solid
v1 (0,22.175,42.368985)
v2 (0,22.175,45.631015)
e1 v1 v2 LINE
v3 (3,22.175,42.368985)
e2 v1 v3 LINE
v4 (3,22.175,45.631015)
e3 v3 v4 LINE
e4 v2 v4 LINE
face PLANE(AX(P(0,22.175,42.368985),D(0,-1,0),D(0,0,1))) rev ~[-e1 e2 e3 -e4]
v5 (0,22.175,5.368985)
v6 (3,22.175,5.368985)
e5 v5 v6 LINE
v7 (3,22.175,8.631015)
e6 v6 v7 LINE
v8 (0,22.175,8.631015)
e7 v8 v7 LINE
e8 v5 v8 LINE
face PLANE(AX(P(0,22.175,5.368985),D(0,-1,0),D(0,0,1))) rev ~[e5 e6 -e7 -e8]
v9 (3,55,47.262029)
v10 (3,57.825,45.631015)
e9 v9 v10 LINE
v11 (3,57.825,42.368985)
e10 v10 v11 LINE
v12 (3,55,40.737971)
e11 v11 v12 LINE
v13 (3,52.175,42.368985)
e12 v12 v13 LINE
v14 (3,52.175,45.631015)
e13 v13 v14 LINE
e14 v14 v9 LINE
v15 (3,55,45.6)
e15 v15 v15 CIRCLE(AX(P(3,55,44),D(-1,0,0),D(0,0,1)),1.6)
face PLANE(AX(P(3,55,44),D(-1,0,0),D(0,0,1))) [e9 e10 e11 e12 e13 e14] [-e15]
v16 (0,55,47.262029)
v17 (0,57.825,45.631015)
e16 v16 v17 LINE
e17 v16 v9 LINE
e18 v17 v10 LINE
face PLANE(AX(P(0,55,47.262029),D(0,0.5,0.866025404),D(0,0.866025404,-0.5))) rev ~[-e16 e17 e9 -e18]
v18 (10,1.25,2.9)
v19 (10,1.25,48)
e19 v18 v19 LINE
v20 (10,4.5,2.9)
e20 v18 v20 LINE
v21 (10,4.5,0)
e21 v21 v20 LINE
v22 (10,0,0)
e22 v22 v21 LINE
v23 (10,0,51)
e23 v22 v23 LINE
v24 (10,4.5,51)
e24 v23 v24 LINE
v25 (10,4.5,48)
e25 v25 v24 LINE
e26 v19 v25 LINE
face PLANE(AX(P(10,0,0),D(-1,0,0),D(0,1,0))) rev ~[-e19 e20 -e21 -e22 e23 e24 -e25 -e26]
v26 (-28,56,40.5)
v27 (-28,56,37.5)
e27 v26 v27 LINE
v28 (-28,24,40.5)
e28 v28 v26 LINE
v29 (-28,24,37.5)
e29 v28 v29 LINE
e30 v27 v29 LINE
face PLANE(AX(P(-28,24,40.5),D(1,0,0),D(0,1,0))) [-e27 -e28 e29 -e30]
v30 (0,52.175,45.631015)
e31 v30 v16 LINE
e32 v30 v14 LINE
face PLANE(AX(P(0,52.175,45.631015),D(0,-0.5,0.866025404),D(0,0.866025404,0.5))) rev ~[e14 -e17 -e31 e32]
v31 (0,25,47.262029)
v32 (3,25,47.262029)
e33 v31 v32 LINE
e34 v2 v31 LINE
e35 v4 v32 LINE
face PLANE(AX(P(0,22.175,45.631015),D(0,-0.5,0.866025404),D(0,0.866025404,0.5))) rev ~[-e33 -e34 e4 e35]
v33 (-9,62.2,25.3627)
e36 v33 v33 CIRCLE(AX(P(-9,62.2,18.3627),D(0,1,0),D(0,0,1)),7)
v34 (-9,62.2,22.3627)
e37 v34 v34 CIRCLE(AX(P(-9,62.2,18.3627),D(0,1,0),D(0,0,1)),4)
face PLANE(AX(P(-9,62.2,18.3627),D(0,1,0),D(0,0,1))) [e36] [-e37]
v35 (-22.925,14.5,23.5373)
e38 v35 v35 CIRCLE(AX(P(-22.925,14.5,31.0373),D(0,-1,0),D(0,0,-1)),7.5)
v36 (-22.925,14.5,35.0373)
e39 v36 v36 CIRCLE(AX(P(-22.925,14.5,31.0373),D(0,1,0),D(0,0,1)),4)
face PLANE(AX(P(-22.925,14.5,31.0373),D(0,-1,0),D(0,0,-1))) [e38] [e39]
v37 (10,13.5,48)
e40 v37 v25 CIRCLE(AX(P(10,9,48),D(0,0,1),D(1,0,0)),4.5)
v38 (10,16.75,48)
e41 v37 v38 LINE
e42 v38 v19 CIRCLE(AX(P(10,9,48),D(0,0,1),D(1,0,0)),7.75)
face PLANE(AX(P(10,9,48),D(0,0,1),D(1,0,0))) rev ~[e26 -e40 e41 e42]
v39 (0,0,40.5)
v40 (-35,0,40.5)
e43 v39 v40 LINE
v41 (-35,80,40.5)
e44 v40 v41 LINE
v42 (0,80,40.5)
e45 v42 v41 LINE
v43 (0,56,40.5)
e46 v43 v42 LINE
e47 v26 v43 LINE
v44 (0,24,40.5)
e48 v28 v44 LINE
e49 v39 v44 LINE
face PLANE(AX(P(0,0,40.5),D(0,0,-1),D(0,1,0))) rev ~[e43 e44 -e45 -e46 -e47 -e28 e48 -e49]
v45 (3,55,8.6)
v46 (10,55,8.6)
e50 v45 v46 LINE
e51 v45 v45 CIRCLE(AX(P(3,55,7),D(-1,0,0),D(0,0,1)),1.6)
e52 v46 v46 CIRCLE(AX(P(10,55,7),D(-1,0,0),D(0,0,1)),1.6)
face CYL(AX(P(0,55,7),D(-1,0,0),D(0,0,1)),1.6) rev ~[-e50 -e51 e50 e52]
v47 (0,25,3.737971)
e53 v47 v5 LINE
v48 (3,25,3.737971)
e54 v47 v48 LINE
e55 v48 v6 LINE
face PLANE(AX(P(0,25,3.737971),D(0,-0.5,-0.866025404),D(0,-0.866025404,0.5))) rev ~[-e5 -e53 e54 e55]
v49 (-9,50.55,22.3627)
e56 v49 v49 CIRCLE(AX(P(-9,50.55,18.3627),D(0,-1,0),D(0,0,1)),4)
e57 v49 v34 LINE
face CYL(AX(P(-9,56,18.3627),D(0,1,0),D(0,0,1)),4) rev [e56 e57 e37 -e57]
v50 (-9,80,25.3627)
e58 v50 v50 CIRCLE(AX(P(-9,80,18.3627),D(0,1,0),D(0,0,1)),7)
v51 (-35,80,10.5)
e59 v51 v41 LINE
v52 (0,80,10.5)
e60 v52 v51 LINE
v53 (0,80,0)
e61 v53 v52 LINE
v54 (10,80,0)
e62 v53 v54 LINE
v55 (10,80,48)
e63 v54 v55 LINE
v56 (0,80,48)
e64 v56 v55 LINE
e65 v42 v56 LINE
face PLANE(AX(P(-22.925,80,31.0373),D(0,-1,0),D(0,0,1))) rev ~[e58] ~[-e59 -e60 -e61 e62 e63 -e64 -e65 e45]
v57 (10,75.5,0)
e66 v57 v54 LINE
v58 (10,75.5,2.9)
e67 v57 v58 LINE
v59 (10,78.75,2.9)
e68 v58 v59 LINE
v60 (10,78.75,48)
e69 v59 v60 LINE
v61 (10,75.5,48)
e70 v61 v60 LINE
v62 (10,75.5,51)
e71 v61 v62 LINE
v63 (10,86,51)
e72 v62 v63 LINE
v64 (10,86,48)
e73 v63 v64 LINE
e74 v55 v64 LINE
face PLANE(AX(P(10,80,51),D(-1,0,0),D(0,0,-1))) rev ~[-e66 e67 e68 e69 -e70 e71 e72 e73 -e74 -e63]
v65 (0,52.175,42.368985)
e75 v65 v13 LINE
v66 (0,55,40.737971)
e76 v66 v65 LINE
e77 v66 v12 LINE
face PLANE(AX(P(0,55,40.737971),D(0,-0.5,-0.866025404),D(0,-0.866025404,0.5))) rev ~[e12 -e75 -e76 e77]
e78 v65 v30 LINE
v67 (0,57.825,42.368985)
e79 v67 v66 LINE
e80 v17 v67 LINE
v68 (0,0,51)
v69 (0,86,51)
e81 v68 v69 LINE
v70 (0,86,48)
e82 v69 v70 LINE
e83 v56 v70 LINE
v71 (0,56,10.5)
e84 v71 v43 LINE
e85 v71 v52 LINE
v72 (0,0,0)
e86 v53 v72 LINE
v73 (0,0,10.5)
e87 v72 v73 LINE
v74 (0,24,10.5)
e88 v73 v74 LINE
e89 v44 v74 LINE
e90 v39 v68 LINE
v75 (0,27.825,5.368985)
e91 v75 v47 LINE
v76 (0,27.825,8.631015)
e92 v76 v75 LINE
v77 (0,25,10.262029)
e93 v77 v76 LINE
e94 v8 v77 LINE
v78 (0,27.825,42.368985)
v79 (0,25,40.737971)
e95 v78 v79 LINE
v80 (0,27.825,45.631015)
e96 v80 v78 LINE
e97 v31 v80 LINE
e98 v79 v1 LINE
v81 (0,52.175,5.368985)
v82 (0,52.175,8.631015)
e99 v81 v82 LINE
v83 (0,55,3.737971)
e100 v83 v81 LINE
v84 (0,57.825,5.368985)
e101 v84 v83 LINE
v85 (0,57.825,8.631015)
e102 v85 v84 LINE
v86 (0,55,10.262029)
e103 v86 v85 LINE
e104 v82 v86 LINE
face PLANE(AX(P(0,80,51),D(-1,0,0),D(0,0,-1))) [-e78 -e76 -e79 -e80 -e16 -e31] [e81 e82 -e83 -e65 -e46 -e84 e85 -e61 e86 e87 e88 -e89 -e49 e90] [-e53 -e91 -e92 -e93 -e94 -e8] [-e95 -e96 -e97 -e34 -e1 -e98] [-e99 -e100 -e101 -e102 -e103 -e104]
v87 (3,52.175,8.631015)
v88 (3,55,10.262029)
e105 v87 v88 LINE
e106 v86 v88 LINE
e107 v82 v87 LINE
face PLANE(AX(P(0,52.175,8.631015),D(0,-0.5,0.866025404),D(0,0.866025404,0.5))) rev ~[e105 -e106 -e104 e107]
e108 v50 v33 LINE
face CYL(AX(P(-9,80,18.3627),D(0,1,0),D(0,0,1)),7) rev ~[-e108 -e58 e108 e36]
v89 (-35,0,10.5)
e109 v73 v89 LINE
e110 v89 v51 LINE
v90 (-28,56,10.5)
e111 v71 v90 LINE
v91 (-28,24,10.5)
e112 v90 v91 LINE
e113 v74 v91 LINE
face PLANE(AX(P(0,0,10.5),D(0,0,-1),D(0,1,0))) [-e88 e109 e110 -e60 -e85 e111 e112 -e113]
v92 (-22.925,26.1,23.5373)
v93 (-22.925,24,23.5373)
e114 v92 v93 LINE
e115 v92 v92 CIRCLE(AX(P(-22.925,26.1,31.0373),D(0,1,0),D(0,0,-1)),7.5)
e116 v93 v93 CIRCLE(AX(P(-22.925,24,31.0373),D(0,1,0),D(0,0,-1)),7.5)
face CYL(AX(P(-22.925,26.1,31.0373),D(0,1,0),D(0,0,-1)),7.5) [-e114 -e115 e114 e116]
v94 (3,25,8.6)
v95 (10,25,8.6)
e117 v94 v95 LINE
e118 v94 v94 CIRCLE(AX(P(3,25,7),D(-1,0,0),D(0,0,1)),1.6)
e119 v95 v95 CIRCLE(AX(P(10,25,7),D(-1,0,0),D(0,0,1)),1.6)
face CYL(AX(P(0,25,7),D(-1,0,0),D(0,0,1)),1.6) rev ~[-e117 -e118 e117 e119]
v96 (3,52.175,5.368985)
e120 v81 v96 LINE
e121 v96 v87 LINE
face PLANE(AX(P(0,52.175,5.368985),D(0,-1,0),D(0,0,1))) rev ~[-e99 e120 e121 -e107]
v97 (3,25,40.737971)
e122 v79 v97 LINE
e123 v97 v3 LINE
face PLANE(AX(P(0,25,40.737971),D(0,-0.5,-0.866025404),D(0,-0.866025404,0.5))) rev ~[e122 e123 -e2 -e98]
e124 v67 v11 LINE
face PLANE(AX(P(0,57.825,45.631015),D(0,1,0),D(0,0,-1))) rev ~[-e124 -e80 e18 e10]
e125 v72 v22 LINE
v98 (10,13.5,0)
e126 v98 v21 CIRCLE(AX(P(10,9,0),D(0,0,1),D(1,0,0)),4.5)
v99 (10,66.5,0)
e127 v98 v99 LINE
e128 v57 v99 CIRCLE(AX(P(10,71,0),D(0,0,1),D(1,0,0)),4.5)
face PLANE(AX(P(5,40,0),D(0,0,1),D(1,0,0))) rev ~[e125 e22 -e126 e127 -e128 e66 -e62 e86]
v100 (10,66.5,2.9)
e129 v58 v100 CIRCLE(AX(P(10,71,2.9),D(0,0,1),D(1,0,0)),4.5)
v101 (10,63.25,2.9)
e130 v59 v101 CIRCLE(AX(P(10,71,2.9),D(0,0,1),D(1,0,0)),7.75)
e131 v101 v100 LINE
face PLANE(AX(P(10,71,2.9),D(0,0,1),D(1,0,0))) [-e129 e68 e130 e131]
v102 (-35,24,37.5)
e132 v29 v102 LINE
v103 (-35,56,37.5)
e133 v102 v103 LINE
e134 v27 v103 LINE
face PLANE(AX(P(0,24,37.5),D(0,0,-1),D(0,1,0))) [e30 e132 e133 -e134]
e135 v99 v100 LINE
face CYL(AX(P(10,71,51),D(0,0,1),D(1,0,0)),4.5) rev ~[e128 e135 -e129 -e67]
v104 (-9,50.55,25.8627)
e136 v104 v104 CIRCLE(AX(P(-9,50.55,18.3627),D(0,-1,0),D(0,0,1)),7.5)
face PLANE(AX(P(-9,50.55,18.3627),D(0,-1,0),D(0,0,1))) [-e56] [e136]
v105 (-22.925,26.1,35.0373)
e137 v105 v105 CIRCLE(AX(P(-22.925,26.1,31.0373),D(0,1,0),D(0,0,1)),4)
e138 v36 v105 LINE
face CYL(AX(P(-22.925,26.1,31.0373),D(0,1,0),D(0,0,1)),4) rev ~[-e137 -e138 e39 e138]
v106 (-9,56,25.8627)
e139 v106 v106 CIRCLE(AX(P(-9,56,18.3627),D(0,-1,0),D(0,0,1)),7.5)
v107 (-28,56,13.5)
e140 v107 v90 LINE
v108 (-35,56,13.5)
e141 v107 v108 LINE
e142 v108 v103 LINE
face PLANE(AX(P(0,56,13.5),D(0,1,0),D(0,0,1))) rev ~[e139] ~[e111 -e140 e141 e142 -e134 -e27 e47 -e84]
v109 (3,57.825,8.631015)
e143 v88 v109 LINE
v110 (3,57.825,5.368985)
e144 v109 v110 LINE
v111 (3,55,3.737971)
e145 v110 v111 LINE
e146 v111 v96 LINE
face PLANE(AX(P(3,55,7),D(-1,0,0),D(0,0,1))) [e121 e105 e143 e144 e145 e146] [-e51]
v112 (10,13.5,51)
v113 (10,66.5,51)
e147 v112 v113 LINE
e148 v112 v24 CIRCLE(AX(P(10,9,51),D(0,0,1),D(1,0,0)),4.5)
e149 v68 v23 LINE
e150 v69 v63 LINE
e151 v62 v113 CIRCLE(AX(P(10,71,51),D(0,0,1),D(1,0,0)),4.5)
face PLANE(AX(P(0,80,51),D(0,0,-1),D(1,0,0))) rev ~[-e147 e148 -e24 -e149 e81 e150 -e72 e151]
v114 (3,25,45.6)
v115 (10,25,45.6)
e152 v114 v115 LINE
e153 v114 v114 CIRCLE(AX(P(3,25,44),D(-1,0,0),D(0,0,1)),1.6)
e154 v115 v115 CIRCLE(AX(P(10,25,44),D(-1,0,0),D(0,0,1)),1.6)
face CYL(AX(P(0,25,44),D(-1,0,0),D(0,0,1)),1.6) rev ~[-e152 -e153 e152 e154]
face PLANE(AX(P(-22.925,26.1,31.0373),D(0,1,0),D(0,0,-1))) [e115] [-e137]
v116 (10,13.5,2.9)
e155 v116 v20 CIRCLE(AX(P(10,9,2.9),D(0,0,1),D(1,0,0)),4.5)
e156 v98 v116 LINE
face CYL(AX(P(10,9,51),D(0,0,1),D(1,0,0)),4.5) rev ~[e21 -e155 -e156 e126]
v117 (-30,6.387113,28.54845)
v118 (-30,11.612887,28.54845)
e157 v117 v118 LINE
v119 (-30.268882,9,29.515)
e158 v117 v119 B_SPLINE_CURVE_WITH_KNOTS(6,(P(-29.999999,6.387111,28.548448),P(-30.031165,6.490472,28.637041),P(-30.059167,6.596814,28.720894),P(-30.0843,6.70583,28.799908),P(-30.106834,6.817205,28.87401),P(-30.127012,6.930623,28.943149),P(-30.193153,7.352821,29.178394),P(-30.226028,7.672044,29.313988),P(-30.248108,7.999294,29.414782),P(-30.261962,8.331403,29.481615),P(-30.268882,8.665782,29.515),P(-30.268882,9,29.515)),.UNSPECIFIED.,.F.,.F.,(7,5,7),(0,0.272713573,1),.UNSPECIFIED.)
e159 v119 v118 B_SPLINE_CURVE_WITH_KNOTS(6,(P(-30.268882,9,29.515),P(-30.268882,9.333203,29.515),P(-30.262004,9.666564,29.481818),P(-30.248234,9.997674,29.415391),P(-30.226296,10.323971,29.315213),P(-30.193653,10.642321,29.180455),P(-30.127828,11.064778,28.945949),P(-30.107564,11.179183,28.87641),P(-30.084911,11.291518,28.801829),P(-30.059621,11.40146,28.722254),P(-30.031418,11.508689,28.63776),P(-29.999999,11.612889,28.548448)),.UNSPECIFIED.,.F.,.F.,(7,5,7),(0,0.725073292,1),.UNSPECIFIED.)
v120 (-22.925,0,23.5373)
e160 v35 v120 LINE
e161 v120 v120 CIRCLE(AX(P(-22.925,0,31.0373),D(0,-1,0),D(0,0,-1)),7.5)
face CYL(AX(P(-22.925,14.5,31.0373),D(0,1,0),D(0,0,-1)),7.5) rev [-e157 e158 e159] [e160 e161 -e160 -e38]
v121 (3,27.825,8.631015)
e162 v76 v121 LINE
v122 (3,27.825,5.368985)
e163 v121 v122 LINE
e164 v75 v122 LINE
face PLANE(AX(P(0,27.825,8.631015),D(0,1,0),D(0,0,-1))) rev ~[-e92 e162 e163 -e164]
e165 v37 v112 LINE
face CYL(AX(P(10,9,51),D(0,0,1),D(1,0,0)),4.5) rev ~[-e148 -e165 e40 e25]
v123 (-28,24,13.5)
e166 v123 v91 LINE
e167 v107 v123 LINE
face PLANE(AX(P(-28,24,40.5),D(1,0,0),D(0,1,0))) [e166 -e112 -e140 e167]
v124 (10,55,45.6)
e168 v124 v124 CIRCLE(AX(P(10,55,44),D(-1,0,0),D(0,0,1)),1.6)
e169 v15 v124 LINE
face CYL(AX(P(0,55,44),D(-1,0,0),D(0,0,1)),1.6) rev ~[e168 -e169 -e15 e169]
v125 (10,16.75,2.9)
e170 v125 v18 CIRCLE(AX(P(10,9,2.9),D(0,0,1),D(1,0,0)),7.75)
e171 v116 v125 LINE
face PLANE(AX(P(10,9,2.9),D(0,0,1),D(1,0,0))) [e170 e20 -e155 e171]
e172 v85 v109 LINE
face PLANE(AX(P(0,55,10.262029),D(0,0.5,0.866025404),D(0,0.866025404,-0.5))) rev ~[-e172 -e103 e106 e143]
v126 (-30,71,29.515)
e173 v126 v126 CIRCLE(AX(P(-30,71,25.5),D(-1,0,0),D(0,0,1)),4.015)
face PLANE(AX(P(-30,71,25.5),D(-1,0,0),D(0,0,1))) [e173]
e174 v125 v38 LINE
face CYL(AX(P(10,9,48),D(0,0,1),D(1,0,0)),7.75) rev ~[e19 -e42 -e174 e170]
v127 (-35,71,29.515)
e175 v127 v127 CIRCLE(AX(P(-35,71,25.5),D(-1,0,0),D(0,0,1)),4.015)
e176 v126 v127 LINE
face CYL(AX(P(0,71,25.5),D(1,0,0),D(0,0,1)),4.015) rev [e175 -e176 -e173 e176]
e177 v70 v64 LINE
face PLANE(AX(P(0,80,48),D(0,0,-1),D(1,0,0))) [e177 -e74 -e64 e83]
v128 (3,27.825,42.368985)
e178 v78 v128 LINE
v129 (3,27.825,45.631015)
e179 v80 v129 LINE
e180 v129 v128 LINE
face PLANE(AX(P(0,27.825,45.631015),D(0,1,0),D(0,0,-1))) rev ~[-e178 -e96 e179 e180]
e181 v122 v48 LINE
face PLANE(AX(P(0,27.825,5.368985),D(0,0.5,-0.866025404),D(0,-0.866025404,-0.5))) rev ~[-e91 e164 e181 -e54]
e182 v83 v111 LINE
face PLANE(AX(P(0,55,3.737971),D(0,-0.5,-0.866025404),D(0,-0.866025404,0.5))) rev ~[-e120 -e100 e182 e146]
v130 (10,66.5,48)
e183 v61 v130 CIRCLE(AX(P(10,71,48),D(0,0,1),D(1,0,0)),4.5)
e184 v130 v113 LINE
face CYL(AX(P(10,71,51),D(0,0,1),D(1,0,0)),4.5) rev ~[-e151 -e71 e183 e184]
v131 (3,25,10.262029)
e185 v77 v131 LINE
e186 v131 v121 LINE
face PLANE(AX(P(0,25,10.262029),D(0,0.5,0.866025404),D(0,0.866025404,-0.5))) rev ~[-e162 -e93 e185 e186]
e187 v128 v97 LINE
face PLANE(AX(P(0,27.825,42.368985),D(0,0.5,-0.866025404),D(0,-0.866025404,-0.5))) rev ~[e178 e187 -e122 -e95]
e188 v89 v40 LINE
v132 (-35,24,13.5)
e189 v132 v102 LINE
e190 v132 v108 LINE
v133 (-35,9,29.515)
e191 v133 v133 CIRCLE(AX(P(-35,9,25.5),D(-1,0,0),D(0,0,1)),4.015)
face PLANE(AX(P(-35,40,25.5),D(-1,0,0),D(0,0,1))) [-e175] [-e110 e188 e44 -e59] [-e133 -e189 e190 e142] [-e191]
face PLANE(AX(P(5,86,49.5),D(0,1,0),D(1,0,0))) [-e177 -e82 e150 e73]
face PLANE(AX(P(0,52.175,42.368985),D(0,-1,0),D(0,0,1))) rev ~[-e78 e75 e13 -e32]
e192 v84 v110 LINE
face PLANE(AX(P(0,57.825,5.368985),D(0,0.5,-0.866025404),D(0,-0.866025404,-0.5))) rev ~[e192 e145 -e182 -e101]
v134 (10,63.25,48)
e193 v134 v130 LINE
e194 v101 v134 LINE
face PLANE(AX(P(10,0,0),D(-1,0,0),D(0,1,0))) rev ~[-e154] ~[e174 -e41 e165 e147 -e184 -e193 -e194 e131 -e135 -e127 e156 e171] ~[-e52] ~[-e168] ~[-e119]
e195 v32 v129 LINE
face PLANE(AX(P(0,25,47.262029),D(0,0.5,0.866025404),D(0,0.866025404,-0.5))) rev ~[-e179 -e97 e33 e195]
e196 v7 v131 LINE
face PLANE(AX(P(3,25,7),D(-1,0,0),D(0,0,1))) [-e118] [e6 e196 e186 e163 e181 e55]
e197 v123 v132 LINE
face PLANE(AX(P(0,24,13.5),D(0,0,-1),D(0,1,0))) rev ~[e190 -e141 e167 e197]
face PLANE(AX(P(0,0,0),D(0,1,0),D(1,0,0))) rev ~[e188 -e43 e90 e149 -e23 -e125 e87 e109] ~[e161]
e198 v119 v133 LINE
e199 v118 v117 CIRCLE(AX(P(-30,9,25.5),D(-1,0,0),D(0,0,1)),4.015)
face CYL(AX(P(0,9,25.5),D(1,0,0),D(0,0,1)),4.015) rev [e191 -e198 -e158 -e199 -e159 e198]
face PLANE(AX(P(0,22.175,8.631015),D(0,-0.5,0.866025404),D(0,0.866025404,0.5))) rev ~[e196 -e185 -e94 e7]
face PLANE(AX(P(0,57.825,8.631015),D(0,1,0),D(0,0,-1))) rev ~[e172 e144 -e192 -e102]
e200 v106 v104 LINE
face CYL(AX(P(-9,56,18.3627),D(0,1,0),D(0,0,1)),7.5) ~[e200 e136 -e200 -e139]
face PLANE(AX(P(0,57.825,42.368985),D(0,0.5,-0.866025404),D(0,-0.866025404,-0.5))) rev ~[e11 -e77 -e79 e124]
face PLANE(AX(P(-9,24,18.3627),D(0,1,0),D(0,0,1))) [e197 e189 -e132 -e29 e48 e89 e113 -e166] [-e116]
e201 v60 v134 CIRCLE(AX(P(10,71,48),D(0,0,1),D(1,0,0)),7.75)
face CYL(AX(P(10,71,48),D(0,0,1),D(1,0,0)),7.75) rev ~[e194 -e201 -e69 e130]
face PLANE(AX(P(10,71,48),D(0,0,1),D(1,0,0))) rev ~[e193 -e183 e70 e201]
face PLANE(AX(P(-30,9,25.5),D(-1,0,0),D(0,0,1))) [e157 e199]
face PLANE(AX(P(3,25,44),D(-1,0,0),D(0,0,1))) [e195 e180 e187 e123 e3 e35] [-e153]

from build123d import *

# Parameters (mm, degrees)
SKETCH1_W            = 10
SKETCH1_H            = 80
BOSS_EXTRUDE1_DEPTH  = 51
SKETCH2_R            = 7.75
CUT_EXTRUDE1_DEPTH   = 45.1
SKETCH3_R            = 4.5
CUT_EXTRUDE2_DEPTH   = 96.399161422
SKETCH4_W            = 30
SKETCH4_H            = 80
SKETCH4_R            = 4.015
BOSS_EXTRUDE2_DEPTH  = 35
SKETCH4_3_R          = 4.015
BOSS_EXTRUDE3_DEPTH  = 30
CUT_EXTRUDE3_START   = -35
SKETCH5_W            = 24
SKETCH5_H            = 32
CUT_EXTRUDE3_DEPTH   = 35
SKETCH6_W            = 28
SKETCH6_H            = 32
CUT_EXTRUDE4_DEPTH   = 97.256168633
SKETCH12_W           = 10
SKETCH12_H           = 3
BOSS_EXTRUDE6_DEPTH  = 6
SKETCH14_R           = 1.6
CUT_EXTRUDE8_DEPTH   = 3
SKETCH14_2_R         = 1.6
CUT_EXTRUDE9_DEPTH   = 106.933941681
SKETCH15_R           = 4
CUT_EXTRUDE10_DEPTH  = 102.123686642
BOSS_EXTRUDE7_START  = 2.1
SKETCH16_R           = 7.5
SKETCH16_R_2         = 4
BOSS_EXTRUDE7_DEPTH  = 2.1
CUT_EXTRUDE11_START  = -14.5
SKETCH17_R           = 7.5
CUT_EXTRUDE11_DEPTH  = 14.5
SKETCH18_R           = 7.5
SKETCH18_R_2         = 4
BOSS_EXTRUDE8_DEPTH  = 5.45
SKETCH19_R           = 7
CUT_EXTRUDE12_DEPTH  = 17.8
SKETCH20_R           = 4
BOSS_EXTRUDE9_DEPTH  = 24
BOSS_EXTRUDE10_START = -24
SKETCH21_R           = 4
BOSS_EXTRUDE10_DEPTH = 24


with BuildPart() as part:
    # Sketch1 → Boss-Extrude1 (new body)
    with BuildSketch(Plane.XY):
        with Locations((5, 40)):
            Rectangle(SKETCH1_W, SKETCH1_H)
    extrude(amount=BOSS_EXTRUDE1_DEPTH)

    # Sketch2 → Cut-Extrude1 (cut)
    with BuildSketch(Plane.XY.offset(48)):
        with Locations((10, 9)):
            Circle(SKETCH2_R)
        with Locations((10, 71)):
            Circle(SKETCH2_R)
    extrude(amount=-CUT_EXTRUDE1_DEPTH, mode=Mode.SUBTRACT)

    # Sketch3 → Cut-Extrude2 (cut, through all)
    with BuildSketch(Plane.XY.offset(51)):
        with Locations((10, 71)):
            Circle(SKETCH3_R)
        with Locations((10, 9)):
            Circle(SKETCH3_R)
    extrude(amount=-CUT_EXTRUDE2_DEPTH, mode=Mode.SUBTRACT)

    # Sketch4 → Boss-Extrude2 (add)
    with BuildSketch(Plane.ZY):
        with Locations((25.5, 40)):
            Rectangle(SKETCH4_W, SKETCH4_H)
        with Locations((25.5, 71)):
            Circle(SKETCH4_R, mode=Mode.SUBTRACT)
        with Locations((25.5, 9)):
            Circle(SKETCH4_R, mode=Mode.SUBTRACT)
    extrude(amount=BOSS_EXTRUDE2_DEPTH)

    # Sketch4<3> → Boss-Extrude3 (add)
    with BuildSketch(Plane.ZY):
        with Locations((25.5, 71)):
            Circle(SKETCH4_3_R)
        with Locations((25.5, 9)):
            Circle(SKETCH4_3_R)
    extrude(amount=BOSS_EXTRUDE3_DEPTH)

    # Sketch5 → Cut-Extrude3 (cut)
    with BuildSketch(Plane.ZY.offset(35).offset(CUT_EXTRUDE3_START)):
        with Locations((25.5, 40)):
            Rectangle(SKETCH5_W, SKETCH5_H)
    extrude(amount=CUT_EXTRUDE3_DEPTH, mode=Mode.SUBTRACT)

    # Sketch6 → Cut-Extrude4 (cut, through all)
    with BuildSketch(Plane.XY.offset(40.5)):
        with Locations((-14, 40)):
            Rectangle(SKETCH6_W, SKETCH6_H)
    extrude(amount=-CUT_EXTRUDE4_DEPTH, mode=Mode.SUBTRACT)

    # Sketch12 → Boss-Extrude6 (add)
    with BuildSketch(Plane(origin=(0, 80, 0), x_dir=(1, 0, 0), z_dir=(0, 1, 0))):
        with Locations((5, -49.5)):
            Rectangle(SKETCH12_W, SKETCH12_H)
    extrude(amount=BOSS_EXTRUDE6_DEPTH)

    # Sketch14 → Cut-Extrude8 (cut)
    # profile 1 of 4: a face of its own
    with BuildSketch(Plane.ZY):
        Polygon((10.262029021, 55), (8.63101451, 57.825), (5.36898549, 57.825), (3.737970979, 55), (5.36898549, 52.175), (8.63101451, 52.175), align=None)
        with Locations((7, 55)):
            Circle(SKETCH14_R, mode=Mode.SUBTRACT)
    # profile 2 of 4: a face of its own
    with BuildSketch(Plane.ZY):
        Polygon((47.262029021, 55), (45.63101451, 57.825), (42.36898549, 57.825), (40.737970979, 55), (42.36898549, 52.175), (45.63101451, 52.175), align=None)
        with Locations((44, 55)):
            Circle(SKETCH14_R, mode=Mode.SUBTRACT)
    # profile 3 of 4: a face of its own
    with BuildSketch(Plane.ZY):
        Polygon((47.262029021, 25), (45.63101451, 27.825), (42.36898549, 27.825), (40.737970979, 25), (42.36898549, 22.175), (45.63101451, 22.175), align=None)
        with Locations((44, 25)):
            Circle(SKETCH14_R, mode=Mode.SUBTRACT)
    # profile 4 of 4: a face of its own
    with BuildSketch(Plane.ZY):
        Polygon((10.262029021, 25), (8.63101451, 27.825), (5.36898549, 27.825), (3.737970979, 25), (5.36898549, 22.175), (8.63101451, 22.175), align=None)
        with Locations((7, 25)):
            Circle(SKETCH14_R, mode=Mode.SUBTRACT)
    extrude(amount=-CUT_EXTRUDE8_DEPTH, mode=Mode.SUBTRACT)

    # Sketch14<2> → Cut-Extrude9 (cut, through all)
    with BuildSketch(Plane.ZY):
        with Locations((7, 55)):
            Circle(SKETCH14_2_R)
        with Locations((44, 55)):
            Circle(SKETCH14_2_R)
        with Locations((44, 25)):
            Circle(SKETCH14_2_R)
        with Locations((7, 25)):
            Circle(SKETCH14_2_R)
    extrude(amount=-CUT_EXTRUDE9_DEPTH, mode=Mode.SUBTRACT)

    # Sketch15 → Cut-Extrude10 (cut, through all)
    with BuildSketch(Plane(origin=(0, 80, 0), x_dir=(1, 0, 0), z_dir=(0, 1, 0))):
        with Locations(Location((-9, -18.3627, 0), (0, 0, 270))):
            Circle(SKETCH15_R)
        with Locations(Location((-22.925, -31.0373, 0), (0, 0, 270))):
            Circle(SKETCH15_R)
    extrude(amount=-CUT_EXTRUDE10_DEPTH, mode=Mode.SUBTRACT)

    # Sketch16 → Boss-Extrude7 (add)
    with BuildSketch(Plane(origin=(0, 24, 0), x_dir=(1, 0, 0), z_dir=(0, 1, 0)).offset(BOSS_EXTRUDE7_START)):
        with Locations(Location((-22.925, -31.0373, 0), (0, 0, 90))):
            Circle(SKETCH16_R)
        with Locations(Location((-22.925, -31.0373, 0), (0, 0, 270))):
            Circle(SKETCH16_R_2, mode=Mode.SUBTRACT)
    extrude(amount=-BOSS_EXTRUDE7_DEPTH)

    # Sketch17 → Cut-Extrude11 (cut)
    with BuildSketch(Plane.XZ.offset(CUT_EXTRUDE11_START)):
        with Locations(Location((-22.925, 31.0373, 0), (0, 0, 270))):
            Circle(SKETCH17_R)
    extrude(amount=CUT_EXTRUDE11_DEPTH, mode=Mode.SUBTRACT)

    # Sketch18 → Boss-Extrude8 (add)
    with BuildSketch(Plane.XZ.offset(-56)):
        with Locations(Location((-9, 18.3627, 0), (0, 0, 90))):
            Circle(SKETCH18_R)
        with Locations(Location((-9, 18.3627, 0), (0, 0, 90))):
            Circle(SKETCH18_R_2, mode=Mode.SUBTRACT)
    extrude(amount=BOSS_EXTRUDE8_DEPTH)

    # Sketch19 → Cut-Extrude12 (cut)
    with BuildSketch(Plane(origin=(0, 80, 0), x_dir=(1, 0, 0), z_dir=(0, 1, 0))):
        with Locations(Location((-9, -18.3627, 0), (0, 0, 270))):
            Circle(SKETCH19_R)
    extrude(amount=-CUT_EXTRUDE12_DEPTH, mode=Mode.SUBTRACT)

    # Sketch20 → Boss-Extrude9 (add)
    with BuildSketch(Plane(origin=(0, 24, 0), x_dir=(1, 0, 0), z_dir=(0, 1, 0))):
        with Locations(Location((-9, -18.3627, 0), (0, 0, 270))):
            Circle(SKETCH20_R)
    extrude(amount=-BOSS_EXTRUDE9_DEPTH)

    # Sketch21 → Boss-Extrude10 (add)
    with BuildSketch(Plane.XZ.offset(-56).offset(BOSS_EXTRUDE10_START)):
        with Locations(Location((-22.925, 31.0373, 0), (0, 0, 90))):
            Circle(SKETCH21_R)
    extrude(amount=BOSS_EXTRUDE10_DEPTH)


solid = part.part
